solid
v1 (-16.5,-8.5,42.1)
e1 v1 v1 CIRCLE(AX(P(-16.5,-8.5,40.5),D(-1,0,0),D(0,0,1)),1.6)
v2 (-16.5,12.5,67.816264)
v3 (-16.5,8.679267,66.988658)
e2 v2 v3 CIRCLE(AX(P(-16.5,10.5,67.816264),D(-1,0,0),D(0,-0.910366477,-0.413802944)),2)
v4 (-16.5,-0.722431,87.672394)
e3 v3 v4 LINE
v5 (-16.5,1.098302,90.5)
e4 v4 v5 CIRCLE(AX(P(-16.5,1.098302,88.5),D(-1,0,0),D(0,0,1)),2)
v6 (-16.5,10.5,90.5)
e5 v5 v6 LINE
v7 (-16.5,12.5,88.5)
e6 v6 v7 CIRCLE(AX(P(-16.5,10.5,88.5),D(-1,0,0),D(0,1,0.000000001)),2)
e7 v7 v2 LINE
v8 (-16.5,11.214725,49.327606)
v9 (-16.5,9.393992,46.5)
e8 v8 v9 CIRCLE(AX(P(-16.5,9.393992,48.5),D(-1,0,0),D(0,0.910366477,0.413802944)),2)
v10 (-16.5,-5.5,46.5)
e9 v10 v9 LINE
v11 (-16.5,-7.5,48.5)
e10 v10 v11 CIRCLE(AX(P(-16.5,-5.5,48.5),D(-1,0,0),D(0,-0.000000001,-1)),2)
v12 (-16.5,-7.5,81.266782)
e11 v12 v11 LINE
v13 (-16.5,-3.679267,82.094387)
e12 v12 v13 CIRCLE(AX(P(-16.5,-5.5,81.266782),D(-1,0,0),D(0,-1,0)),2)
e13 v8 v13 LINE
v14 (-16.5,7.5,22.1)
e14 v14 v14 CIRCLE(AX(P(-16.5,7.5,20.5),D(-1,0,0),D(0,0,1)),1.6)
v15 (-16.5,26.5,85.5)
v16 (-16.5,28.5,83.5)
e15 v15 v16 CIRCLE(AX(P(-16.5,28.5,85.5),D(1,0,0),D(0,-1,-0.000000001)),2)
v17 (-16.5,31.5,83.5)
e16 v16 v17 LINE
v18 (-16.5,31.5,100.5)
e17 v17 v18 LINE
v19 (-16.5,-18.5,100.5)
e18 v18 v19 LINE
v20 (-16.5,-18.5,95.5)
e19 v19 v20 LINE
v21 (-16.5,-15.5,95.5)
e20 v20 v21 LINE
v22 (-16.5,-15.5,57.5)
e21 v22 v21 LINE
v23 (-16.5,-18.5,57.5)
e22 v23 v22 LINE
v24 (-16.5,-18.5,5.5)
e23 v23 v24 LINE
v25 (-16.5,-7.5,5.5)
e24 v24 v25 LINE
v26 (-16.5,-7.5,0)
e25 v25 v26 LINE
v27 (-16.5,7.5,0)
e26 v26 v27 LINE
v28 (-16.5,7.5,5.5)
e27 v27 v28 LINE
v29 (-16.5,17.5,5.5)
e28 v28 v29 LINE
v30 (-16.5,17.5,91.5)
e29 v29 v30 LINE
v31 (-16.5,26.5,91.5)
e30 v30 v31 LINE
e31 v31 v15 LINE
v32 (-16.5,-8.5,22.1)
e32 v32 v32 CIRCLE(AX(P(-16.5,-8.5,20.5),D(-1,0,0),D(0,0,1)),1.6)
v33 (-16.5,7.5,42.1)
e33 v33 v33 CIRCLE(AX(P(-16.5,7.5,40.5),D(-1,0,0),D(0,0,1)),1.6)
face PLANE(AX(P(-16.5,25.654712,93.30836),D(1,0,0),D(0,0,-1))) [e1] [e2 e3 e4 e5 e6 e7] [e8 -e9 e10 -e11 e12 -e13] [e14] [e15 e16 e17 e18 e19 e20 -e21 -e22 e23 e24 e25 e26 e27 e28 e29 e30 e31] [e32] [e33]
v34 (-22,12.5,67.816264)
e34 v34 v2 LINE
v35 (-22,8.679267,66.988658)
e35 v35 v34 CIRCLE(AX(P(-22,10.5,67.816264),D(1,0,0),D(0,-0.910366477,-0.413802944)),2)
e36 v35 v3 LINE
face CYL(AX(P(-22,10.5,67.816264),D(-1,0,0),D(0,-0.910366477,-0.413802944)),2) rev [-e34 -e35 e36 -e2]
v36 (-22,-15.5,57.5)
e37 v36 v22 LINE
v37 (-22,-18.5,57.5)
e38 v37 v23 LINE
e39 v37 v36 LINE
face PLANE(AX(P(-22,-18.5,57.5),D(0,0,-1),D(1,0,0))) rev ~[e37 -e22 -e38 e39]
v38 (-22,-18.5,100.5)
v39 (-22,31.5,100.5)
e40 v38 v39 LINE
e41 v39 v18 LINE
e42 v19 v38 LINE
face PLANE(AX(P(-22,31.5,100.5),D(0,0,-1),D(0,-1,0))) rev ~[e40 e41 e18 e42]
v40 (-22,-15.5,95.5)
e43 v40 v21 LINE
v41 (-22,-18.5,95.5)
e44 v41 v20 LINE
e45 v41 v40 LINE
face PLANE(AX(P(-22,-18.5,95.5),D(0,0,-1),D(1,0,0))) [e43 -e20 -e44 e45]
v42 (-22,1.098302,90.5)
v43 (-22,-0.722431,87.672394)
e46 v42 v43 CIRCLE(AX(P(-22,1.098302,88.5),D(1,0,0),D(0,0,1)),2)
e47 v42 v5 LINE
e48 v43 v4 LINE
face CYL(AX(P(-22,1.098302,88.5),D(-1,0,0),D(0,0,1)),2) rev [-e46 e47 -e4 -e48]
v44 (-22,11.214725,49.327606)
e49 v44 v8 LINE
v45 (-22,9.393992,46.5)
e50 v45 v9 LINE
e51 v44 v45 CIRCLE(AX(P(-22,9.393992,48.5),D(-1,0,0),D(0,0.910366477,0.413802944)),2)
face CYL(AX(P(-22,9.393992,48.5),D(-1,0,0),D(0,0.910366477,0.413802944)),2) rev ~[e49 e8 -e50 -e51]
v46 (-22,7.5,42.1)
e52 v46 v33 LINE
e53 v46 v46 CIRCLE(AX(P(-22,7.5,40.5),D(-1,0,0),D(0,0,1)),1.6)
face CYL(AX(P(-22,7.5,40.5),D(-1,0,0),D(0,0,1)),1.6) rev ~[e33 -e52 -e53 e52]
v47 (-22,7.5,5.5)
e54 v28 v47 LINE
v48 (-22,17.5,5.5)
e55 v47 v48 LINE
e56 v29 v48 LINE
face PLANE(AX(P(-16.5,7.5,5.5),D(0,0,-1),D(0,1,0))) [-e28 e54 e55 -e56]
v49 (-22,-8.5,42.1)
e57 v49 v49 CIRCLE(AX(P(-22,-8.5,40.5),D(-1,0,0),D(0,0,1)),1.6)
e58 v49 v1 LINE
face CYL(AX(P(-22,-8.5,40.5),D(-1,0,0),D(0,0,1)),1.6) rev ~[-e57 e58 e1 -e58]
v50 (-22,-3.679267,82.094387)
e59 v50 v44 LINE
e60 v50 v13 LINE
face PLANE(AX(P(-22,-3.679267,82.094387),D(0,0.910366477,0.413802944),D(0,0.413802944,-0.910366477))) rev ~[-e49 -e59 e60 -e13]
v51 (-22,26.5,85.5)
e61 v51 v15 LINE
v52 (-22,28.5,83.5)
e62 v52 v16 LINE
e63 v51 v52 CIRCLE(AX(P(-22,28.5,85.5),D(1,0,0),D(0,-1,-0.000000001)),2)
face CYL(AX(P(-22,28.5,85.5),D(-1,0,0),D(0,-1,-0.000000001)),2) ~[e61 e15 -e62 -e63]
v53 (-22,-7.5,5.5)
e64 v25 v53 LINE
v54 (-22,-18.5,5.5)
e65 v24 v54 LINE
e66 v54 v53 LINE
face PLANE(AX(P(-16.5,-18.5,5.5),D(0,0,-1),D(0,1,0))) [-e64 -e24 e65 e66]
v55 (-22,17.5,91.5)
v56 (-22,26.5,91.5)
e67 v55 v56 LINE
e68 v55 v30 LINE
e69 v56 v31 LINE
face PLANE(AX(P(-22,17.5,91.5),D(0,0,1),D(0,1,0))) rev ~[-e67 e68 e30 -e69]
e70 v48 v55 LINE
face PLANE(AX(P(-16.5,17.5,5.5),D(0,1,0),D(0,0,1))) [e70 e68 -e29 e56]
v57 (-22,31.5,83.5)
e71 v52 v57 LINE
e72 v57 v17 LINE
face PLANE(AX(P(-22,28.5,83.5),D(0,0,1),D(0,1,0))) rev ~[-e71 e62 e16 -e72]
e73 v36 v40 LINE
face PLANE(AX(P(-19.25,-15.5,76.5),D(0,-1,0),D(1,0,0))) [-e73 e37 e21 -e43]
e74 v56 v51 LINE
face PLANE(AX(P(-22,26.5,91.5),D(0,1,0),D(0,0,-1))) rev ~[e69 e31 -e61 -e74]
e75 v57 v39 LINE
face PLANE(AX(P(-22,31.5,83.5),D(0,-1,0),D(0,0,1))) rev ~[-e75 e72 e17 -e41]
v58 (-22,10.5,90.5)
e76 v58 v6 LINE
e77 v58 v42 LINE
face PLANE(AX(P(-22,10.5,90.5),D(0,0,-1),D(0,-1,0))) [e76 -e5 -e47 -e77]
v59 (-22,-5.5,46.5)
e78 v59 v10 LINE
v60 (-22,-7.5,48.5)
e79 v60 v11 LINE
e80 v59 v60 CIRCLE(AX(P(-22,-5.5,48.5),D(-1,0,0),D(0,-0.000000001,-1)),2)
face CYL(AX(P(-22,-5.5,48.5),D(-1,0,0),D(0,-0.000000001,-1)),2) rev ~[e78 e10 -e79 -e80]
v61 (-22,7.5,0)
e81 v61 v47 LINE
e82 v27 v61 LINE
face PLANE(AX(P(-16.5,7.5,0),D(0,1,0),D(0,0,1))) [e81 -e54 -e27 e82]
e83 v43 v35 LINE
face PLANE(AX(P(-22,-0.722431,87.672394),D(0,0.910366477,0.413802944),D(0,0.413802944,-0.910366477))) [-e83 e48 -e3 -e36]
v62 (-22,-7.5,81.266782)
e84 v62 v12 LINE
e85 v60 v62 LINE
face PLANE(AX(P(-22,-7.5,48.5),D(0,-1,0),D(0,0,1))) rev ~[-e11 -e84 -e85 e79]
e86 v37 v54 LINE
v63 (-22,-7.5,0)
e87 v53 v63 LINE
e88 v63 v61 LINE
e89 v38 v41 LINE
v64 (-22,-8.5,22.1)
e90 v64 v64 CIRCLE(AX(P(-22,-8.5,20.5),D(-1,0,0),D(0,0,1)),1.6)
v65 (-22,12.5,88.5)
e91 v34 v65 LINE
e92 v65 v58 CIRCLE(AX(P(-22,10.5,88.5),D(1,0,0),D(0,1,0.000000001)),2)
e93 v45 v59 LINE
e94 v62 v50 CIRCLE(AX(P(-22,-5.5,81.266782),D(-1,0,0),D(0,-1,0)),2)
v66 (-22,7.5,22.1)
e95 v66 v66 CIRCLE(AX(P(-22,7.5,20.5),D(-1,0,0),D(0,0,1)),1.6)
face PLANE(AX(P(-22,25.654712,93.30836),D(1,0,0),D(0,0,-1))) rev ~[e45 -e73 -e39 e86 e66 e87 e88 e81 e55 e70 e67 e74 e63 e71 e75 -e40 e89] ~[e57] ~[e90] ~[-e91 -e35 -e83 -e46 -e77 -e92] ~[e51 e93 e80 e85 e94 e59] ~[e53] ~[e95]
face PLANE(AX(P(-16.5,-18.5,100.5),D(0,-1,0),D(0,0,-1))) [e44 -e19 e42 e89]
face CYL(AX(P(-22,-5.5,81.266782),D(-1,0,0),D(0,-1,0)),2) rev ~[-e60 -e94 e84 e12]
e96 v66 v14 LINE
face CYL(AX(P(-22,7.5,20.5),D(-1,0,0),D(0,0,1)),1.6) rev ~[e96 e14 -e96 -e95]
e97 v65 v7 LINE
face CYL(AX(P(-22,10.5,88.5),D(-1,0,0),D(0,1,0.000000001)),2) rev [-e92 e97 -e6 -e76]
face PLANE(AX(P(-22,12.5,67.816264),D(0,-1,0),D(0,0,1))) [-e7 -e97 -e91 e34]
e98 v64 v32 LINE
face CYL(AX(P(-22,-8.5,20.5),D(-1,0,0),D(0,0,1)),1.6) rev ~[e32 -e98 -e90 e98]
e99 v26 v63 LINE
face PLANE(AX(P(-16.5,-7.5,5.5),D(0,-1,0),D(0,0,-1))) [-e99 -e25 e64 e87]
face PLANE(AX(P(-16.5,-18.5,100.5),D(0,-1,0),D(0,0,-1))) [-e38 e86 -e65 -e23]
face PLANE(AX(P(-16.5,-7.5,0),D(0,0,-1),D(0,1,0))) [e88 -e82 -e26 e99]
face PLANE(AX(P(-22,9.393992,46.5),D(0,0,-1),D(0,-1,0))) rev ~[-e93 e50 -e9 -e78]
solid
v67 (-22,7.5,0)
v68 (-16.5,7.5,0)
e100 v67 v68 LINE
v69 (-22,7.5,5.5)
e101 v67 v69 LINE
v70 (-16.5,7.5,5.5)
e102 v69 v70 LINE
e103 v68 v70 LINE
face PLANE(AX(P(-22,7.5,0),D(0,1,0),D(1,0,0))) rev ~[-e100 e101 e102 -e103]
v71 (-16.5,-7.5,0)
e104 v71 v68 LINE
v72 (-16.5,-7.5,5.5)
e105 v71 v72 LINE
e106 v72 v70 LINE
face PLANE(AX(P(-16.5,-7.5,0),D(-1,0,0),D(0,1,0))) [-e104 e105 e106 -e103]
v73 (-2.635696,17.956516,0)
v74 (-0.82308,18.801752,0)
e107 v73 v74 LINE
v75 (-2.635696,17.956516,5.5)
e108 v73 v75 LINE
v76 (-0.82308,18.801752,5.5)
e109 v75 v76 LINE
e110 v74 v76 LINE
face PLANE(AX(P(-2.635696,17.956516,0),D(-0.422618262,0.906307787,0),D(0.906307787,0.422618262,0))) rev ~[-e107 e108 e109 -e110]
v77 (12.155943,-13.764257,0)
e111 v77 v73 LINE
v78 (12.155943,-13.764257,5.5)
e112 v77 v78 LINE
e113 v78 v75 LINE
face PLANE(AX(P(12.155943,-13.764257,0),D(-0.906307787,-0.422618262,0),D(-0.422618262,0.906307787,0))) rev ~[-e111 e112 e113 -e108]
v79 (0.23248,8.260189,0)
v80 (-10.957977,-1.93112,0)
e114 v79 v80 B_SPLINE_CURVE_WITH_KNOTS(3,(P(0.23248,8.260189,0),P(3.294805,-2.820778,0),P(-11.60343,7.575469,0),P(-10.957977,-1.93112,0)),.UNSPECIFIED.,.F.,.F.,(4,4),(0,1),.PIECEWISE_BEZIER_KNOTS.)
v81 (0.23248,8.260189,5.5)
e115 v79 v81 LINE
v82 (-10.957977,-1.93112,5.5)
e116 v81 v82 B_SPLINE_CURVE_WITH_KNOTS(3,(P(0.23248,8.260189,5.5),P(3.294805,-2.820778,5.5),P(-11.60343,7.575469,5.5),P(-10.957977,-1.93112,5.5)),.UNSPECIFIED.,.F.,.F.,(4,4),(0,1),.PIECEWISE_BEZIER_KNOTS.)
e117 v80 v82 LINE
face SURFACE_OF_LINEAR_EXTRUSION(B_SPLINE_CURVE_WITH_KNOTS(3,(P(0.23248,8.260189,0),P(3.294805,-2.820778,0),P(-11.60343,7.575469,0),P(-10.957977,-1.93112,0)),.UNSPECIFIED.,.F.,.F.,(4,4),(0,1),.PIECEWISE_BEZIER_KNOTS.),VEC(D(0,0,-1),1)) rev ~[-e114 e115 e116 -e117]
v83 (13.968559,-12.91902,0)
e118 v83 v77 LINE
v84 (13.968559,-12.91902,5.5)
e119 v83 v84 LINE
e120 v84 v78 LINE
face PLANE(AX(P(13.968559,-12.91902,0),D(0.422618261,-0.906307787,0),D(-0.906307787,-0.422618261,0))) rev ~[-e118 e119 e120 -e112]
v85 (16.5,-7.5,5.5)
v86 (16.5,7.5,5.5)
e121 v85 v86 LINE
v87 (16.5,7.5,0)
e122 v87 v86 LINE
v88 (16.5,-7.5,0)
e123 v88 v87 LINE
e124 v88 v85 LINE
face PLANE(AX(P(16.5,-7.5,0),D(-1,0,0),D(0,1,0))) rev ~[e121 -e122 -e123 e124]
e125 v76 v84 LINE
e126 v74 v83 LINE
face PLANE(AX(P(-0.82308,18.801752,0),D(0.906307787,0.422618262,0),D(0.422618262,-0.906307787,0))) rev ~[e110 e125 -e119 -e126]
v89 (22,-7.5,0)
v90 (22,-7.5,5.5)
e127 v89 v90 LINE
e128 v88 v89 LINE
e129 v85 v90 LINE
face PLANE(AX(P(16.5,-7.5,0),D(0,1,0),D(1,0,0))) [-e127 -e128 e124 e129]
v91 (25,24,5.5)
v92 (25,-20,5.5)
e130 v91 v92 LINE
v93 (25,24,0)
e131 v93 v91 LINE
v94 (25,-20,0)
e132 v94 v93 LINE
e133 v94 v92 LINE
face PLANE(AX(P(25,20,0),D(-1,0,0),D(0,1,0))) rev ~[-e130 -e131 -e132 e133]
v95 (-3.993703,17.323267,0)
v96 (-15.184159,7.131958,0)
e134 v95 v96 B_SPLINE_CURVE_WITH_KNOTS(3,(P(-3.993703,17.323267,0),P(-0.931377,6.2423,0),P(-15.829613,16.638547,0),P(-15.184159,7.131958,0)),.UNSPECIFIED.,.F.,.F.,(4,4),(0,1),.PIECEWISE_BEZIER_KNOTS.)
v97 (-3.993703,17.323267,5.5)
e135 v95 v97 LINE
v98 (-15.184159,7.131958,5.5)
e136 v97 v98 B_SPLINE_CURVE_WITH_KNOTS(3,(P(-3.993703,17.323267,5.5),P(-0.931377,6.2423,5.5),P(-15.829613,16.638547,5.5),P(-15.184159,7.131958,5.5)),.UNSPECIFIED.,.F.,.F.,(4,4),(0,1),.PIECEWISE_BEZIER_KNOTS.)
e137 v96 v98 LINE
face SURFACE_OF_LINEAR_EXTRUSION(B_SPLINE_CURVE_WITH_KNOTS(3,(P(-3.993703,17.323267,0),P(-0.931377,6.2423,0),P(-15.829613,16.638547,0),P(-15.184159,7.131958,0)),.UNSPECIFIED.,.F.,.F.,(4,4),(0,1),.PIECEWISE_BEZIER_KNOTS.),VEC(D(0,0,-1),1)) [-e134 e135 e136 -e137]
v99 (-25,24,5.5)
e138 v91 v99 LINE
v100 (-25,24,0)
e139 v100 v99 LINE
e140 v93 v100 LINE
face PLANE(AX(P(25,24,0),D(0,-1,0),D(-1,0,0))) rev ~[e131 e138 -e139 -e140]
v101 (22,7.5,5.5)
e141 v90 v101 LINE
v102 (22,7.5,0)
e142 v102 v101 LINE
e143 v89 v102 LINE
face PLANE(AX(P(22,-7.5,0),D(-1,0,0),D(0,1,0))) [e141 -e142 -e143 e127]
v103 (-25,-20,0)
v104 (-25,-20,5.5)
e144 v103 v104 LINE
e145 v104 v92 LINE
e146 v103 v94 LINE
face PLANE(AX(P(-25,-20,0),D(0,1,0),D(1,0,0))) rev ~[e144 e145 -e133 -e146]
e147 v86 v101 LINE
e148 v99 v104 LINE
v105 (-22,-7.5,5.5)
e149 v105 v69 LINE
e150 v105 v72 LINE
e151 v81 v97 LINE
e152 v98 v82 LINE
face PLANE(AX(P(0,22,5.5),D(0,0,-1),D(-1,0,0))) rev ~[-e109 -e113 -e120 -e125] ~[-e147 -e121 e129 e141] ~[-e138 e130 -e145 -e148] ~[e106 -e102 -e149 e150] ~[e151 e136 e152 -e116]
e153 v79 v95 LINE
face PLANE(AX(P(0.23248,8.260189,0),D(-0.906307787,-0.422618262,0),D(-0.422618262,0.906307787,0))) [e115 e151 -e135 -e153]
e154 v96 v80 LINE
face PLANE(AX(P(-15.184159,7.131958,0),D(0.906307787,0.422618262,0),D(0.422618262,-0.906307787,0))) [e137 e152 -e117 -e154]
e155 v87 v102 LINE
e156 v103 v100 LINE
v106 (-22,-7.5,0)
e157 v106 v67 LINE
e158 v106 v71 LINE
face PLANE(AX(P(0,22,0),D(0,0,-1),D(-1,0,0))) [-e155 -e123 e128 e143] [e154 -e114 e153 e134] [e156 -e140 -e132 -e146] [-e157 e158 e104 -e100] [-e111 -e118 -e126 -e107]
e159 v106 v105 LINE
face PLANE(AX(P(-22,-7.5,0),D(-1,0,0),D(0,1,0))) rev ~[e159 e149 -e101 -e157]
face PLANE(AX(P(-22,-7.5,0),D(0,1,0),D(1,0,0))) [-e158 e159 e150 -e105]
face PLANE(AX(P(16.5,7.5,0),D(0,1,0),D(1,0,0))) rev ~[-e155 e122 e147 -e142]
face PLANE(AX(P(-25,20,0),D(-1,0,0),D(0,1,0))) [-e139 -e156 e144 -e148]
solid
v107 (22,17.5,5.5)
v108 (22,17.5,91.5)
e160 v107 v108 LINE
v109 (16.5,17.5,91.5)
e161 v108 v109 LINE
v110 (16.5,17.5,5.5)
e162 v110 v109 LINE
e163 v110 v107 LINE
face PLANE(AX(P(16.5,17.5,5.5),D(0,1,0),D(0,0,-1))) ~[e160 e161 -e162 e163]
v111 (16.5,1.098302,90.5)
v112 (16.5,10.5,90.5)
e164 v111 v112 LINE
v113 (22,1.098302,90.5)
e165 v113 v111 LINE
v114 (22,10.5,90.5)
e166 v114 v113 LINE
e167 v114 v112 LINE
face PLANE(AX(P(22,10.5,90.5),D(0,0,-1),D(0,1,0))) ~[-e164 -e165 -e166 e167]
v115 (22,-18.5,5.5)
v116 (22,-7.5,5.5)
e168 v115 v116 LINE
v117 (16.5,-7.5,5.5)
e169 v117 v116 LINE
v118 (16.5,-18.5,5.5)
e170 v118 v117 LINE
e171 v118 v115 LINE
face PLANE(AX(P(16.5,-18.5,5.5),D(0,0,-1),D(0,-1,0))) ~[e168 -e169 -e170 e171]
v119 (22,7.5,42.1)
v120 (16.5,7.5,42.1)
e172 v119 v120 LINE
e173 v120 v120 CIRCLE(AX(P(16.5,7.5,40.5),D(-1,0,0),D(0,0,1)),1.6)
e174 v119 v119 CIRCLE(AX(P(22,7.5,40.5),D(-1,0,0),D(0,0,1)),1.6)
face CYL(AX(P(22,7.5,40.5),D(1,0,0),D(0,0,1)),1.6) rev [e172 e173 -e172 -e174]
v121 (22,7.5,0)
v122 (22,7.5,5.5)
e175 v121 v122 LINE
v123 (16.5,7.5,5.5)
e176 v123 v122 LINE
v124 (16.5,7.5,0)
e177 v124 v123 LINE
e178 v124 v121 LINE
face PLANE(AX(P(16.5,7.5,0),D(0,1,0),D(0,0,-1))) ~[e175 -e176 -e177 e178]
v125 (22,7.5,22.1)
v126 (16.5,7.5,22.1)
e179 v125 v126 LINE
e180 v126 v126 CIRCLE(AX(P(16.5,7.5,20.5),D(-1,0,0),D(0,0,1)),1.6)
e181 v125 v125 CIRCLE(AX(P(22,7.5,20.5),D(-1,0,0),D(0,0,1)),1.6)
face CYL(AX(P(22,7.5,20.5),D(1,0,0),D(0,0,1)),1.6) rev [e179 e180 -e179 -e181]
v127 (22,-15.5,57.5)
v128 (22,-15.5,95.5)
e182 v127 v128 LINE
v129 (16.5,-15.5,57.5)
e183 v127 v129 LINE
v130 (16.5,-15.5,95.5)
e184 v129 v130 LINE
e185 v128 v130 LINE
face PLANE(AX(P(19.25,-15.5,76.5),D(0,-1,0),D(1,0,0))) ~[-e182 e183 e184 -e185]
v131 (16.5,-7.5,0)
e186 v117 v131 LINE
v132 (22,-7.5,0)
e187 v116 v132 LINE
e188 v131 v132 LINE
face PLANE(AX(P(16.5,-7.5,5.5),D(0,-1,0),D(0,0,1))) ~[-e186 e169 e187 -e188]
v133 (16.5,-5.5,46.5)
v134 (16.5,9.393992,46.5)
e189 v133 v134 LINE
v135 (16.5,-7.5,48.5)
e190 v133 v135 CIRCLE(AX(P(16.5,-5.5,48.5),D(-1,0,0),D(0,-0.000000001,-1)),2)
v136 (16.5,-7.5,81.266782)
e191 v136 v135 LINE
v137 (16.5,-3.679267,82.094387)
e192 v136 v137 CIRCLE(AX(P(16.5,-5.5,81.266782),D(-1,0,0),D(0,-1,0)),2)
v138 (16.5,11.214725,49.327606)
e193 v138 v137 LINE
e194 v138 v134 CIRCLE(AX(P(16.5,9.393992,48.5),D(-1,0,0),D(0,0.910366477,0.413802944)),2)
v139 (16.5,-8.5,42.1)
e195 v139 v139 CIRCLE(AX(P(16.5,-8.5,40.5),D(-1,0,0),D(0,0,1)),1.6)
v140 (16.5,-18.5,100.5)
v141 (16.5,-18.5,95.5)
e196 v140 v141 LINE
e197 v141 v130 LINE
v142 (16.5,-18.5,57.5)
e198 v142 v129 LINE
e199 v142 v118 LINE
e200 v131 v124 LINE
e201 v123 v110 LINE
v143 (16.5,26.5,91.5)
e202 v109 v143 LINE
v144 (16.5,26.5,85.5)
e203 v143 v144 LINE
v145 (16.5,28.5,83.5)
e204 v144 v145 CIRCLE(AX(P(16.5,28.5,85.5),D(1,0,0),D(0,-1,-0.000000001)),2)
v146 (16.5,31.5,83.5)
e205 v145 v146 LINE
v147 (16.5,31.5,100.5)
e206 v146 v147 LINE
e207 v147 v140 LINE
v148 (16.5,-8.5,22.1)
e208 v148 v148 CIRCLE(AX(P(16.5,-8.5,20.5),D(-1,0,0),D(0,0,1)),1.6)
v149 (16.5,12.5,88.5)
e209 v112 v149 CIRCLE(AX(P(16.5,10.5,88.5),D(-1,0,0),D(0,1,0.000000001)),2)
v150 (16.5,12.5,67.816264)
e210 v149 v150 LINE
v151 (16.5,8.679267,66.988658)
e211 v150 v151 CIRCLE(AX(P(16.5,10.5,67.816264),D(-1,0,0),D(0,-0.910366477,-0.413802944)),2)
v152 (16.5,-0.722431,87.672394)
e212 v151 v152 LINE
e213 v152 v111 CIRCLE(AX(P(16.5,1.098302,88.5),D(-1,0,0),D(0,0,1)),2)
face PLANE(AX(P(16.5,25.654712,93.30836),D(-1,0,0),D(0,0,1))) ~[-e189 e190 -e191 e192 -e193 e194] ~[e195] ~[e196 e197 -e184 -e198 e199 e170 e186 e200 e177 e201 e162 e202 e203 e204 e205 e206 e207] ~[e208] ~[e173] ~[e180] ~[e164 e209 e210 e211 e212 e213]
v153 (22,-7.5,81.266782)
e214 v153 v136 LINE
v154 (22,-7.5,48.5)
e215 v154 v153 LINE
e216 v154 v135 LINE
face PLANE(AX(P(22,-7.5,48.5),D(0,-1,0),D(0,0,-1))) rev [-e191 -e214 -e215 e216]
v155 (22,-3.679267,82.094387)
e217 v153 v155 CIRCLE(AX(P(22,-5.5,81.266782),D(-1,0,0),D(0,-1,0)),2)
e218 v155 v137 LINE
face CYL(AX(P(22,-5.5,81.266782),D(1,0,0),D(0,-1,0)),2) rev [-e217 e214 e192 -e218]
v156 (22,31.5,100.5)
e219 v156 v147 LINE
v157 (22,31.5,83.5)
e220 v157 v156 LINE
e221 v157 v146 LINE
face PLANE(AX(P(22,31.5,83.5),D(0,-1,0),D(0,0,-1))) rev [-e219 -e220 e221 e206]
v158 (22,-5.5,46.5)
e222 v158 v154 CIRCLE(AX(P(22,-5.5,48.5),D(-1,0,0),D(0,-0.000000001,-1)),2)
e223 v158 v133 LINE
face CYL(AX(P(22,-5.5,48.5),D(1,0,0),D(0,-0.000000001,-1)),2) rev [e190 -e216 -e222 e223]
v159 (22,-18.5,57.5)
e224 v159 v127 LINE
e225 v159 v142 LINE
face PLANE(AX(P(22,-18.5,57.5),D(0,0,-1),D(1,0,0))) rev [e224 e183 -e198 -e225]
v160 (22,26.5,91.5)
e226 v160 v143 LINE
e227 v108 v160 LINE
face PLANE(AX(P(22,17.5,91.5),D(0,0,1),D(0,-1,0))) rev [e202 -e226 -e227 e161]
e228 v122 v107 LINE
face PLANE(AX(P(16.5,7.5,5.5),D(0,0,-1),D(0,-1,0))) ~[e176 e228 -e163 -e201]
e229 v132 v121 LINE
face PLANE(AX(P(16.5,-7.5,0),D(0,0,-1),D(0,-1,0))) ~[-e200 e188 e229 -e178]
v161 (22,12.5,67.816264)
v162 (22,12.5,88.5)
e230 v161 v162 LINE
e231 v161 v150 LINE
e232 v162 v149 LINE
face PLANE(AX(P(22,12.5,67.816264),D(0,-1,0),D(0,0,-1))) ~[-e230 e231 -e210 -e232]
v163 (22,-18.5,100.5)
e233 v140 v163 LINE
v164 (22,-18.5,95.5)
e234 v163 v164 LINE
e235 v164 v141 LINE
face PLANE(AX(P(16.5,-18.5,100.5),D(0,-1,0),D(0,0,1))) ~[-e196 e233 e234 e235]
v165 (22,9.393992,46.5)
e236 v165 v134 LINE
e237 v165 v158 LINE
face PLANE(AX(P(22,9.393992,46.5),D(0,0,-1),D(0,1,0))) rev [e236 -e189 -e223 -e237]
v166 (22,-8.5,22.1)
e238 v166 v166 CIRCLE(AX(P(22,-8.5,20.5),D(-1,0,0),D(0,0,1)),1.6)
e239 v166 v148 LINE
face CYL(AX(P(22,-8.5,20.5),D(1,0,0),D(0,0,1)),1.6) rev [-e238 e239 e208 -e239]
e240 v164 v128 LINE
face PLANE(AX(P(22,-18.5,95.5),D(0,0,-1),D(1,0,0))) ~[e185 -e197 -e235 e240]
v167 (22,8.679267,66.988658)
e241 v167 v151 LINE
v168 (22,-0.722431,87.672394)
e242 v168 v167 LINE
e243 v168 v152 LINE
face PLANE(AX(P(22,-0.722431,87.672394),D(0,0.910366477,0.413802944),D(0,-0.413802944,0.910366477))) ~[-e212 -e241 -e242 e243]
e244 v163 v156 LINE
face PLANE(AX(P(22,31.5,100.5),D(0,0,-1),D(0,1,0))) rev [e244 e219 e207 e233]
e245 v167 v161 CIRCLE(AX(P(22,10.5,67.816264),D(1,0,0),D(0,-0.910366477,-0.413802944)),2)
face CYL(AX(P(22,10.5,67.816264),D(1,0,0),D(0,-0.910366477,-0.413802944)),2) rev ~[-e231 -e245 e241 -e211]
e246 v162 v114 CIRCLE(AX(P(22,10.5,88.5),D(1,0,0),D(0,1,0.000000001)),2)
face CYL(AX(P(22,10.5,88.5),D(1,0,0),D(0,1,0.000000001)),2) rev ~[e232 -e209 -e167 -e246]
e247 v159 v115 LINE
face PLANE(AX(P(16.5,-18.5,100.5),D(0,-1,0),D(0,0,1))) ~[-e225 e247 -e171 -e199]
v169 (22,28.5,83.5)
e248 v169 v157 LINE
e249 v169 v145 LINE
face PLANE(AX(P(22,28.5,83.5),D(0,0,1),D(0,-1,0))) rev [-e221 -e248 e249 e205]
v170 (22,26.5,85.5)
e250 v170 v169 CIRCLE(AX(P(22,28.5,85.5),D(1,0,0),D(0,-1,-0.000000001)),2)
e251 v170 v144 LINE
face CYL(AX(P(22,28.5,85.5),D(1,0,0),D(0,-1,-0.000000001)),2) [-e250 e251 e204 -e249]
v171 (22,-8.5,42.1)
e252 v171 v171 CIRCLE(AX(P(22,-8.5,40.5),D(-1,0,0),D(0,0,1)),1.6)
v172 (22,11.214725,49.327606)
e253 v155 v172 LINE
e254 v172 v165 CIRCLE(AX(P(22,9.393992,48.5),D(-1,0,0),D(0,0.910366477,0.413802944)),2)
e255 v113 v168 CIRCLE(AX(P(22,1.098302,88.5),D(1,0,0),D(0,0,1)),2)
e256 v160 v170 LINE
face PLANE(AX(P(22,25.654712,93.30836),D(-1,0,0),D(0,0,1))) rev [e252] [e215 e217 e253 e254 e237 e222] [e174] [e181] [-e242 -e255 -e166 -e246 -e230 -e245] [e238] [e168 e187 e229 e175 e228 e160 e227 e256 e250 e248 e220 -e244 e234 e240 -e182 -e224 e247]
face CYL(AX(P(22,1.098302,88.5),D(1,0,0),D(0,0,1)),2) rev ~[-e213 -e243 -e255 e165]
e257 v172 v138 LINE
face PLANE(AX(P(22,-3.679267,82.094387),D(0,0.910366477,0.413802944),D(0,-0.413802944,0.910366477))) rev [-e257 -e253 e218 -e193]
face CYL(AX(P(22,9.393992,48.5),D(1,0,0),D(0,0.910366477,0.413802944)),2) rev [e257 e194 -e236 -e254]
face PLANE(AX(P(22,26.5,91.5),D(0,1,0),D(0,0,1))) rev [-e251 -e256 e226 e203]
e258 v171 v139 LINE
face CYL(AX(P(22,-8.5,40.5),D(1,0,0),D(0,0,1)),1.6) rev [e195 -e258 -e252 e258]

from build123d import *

# Parameters (mm, degrees)
SKETCH_1_W          = 50
SKETCH_1_H          = 40
SKETCH_1_W_2        = 5.5
SKETCH_1_H_2        = 15
EXTRUDE_1_DEPTH     = 5.5
EXTRUDE_2_DEPTH     = 5.5
SKETCH_8_W          = 5.5
SKETCH_8_H          = 38
CUT_EXTRUDE_2_DEPTH = 3
SKETCH_19_R         = 1.6
CUT_EXTRUDE_6_DEPTH = 48.0000001
EXTRUDE_3_DEPTH     = 5.5
SKETCH_21_W         = 50
SKETCH_21_H         = 4
EXTRUDE_4_DEPTH     = 5.5


with BuildPart() as part:
    # ｽｹｯﾁ1 → ﾎﾞｽ - 押し出し1 (new body)
    with BuildSketch(Plane.XY):
        Rectangle(SKETCH_1_W, SKETCH_1_H)
        with Locations((-19.25, 0)):
            Rectangle(SKETCH_1_W_2, SKETCH_1_H_2, mode=Mode.SUBTRACT)
        with Locations((19.25, 0)):
            Rectangle(SKETCH_1_W_2, SKETCH_1_H_2, mode=Mode.SUBTRACT)
        with BuildLine():
            Line((-15.184159493, 7.131957878), (-10.957976876, -1.931119992))
            add(Edge.make_bspline(
                [(0.232480079, 8.26018902), (3.294805184, -2.820777733), (-11.603430093, 7.575468843), (-10.957976876, -1.931119992)],
                knots=[0, 0, 0, 0, 1, 1, 1, 1], degree=3))
            Line((0.232480079, 8.26018902), (-3.993702538, 17.323266891))
            add(Edge.make_bspline(
                [(-3.993702538, 17.323266891), (-0.931377433, 6.242300138), (-15.829612711, 16.638546714), (-15.184159493, 7.131957878)],
                knots=[0, 0, 0, 0, 1, 1, 1, 1], degree=3))
        make_face(mode=Mode.SUBTRACT)
        Polygon((-2.635695691, 17.956515883), (-0.823080117, 18.801752407), (13.968559044, -12.91902014), (12.155943469, -13.764256663), align=None, mode=Mode.SUBTRACT)
    extrude(amount=EXTRUDE_1_DEPTH)

    # ｽｹｯﾁ21 → ﾎﾞｽ - 押し出し4 (add)
    with BuildSketch(Plane(origin=(0, 0, 0), x_dir=(-1, 0, 0), z_dir=(0, 0, -1))):
        with Locations((0, 22)):
            Rectangle(SKETCH_21_W, SKETCH_21_H)
    extrude(amount=-EXTRUDE_4_DEPTH)


with BuildPart() as body_2:
    # ｽｹｯﾁ2 → ﾎﾞｽ - 押し出し2 (new body)
    with BuildSketch(Plane.ZY.offset(16.5)):
        Polygon((0, 7.5), (5.5, 7.5), (5.5, 17.5), (100.5, 17.5), (100.5, -18.5), (5.5, -18.5), (5.5, -7.5), (0, -7.5), align=None)
    extrude(amount=EXTRUDE_2_DEPTH)

    # ｽｹｯﾁ8 → ｶｯﾄ - 押し出し2 (cut)
    with BuildSketch(Plane.XZ.offset(18.5)):
        with Locations((-19.25, 76.5)):
            Rectangle(SKETCH_8_W, SKETCH_8_H)
    extrude(amount=-CUT_EXTRUDE_2_DEPTH, mode=Mode.SUBTRACT)

    # ｽｹｯﾁ19 → ｶｯﾄ - 押し出し6 (cut, through all)
    with BuildSketch(Plane.ZY.offset(22)):
        with Locations((20.5, 7.5)):
            Circle(SKETCH_19_R)
        with Locations((20.5, -8.5)):
            Circle(SKETCH_19_R)
        with Locations((40.5, -8.5)):
            Circle(SKETCH_19_R)
        with Locations((40.5, 7.5)):
            Circle(SKETCH_19_R)
        with BuildLine():
            Line((46.5, 9.393991641), (46.5, -5.5))
            ThreePointArc((46.5, -5.5), (47.085786438, -6.914213562), (48.5, -7.5))
            Line((48.5, -7.5), (81.266781611, -7.5))
            ThreePointArc((81.266781611, -7.5), (83.221451136, -5.923399392), (82.094387499, -3.679267045))
            Line((82.094387499, -3.679267045), (49.327605889, 11.214724596))
            ThreePointArc((49.327605889, 11.214724596), (47.417228505, 11.075540299), (46.5, 9.393991641))
        make_face()
        with BuildLine():
            Line((67.816264363, 12.5), (88.5, 12.5))
            ThreePointArc((88.5, 12.5), (89.914213562, 11.914213562), (90.5, 10.5))
            Line((90.5, 10.5), (90.5, 1.098301983))
            ThreePointArc((90.5, 1.098301983), (89.582771495, -0.583246675), (87.672394111, -0.722430972))
            Line((87.672394111, -0.722430972), (66.988658474, 8.679267045))
            ThreePointArc((66.988658474, 8.679267045), (65.861594837, 10.923399392), (67.816264363, 12.5))
        make_face()
    extrude(amount=-CUT_EXTRUDE_6_DEPTH, mode=Mode.SUBTRACT)

    # ｽｹｯﾁ20 → ﾎﾞｽ - 押し出し3 (add)
    with BuildSketch(Plane.ZY.offset(22)):
        with BuildLine():
            Line((91.5, 17.5), (91.5, 26.5))
            Line((91.5, 26.5), (85.5, 26.5))
            ThreePointArc((85.5, 26.5), (84.085786438, 27.085786438), (83.5, 28.5))
            Line((83.5, 28.5), (83.5, 31.5))
            Line((83.5, 31.5), (100.5, 31.5))
            Line((100.5, 31.5), (100.5, 17.5))
            Line((100.5, 17.5), (91.5, 17.5))
        make_face()
    extrude(amount=-EXTRUDE_3_DEPTH)


with BuildPart() as body_3:
    # ﾐﾗｰ1: mirrored copy
    add(body_2.part.mirror(Plane(origin=(0, 0, 0), x_dir=(0, 0, 1), z_dir=(1, 0, 0))))


solid = Compound([part.part, body_2.part, body_3.part])
